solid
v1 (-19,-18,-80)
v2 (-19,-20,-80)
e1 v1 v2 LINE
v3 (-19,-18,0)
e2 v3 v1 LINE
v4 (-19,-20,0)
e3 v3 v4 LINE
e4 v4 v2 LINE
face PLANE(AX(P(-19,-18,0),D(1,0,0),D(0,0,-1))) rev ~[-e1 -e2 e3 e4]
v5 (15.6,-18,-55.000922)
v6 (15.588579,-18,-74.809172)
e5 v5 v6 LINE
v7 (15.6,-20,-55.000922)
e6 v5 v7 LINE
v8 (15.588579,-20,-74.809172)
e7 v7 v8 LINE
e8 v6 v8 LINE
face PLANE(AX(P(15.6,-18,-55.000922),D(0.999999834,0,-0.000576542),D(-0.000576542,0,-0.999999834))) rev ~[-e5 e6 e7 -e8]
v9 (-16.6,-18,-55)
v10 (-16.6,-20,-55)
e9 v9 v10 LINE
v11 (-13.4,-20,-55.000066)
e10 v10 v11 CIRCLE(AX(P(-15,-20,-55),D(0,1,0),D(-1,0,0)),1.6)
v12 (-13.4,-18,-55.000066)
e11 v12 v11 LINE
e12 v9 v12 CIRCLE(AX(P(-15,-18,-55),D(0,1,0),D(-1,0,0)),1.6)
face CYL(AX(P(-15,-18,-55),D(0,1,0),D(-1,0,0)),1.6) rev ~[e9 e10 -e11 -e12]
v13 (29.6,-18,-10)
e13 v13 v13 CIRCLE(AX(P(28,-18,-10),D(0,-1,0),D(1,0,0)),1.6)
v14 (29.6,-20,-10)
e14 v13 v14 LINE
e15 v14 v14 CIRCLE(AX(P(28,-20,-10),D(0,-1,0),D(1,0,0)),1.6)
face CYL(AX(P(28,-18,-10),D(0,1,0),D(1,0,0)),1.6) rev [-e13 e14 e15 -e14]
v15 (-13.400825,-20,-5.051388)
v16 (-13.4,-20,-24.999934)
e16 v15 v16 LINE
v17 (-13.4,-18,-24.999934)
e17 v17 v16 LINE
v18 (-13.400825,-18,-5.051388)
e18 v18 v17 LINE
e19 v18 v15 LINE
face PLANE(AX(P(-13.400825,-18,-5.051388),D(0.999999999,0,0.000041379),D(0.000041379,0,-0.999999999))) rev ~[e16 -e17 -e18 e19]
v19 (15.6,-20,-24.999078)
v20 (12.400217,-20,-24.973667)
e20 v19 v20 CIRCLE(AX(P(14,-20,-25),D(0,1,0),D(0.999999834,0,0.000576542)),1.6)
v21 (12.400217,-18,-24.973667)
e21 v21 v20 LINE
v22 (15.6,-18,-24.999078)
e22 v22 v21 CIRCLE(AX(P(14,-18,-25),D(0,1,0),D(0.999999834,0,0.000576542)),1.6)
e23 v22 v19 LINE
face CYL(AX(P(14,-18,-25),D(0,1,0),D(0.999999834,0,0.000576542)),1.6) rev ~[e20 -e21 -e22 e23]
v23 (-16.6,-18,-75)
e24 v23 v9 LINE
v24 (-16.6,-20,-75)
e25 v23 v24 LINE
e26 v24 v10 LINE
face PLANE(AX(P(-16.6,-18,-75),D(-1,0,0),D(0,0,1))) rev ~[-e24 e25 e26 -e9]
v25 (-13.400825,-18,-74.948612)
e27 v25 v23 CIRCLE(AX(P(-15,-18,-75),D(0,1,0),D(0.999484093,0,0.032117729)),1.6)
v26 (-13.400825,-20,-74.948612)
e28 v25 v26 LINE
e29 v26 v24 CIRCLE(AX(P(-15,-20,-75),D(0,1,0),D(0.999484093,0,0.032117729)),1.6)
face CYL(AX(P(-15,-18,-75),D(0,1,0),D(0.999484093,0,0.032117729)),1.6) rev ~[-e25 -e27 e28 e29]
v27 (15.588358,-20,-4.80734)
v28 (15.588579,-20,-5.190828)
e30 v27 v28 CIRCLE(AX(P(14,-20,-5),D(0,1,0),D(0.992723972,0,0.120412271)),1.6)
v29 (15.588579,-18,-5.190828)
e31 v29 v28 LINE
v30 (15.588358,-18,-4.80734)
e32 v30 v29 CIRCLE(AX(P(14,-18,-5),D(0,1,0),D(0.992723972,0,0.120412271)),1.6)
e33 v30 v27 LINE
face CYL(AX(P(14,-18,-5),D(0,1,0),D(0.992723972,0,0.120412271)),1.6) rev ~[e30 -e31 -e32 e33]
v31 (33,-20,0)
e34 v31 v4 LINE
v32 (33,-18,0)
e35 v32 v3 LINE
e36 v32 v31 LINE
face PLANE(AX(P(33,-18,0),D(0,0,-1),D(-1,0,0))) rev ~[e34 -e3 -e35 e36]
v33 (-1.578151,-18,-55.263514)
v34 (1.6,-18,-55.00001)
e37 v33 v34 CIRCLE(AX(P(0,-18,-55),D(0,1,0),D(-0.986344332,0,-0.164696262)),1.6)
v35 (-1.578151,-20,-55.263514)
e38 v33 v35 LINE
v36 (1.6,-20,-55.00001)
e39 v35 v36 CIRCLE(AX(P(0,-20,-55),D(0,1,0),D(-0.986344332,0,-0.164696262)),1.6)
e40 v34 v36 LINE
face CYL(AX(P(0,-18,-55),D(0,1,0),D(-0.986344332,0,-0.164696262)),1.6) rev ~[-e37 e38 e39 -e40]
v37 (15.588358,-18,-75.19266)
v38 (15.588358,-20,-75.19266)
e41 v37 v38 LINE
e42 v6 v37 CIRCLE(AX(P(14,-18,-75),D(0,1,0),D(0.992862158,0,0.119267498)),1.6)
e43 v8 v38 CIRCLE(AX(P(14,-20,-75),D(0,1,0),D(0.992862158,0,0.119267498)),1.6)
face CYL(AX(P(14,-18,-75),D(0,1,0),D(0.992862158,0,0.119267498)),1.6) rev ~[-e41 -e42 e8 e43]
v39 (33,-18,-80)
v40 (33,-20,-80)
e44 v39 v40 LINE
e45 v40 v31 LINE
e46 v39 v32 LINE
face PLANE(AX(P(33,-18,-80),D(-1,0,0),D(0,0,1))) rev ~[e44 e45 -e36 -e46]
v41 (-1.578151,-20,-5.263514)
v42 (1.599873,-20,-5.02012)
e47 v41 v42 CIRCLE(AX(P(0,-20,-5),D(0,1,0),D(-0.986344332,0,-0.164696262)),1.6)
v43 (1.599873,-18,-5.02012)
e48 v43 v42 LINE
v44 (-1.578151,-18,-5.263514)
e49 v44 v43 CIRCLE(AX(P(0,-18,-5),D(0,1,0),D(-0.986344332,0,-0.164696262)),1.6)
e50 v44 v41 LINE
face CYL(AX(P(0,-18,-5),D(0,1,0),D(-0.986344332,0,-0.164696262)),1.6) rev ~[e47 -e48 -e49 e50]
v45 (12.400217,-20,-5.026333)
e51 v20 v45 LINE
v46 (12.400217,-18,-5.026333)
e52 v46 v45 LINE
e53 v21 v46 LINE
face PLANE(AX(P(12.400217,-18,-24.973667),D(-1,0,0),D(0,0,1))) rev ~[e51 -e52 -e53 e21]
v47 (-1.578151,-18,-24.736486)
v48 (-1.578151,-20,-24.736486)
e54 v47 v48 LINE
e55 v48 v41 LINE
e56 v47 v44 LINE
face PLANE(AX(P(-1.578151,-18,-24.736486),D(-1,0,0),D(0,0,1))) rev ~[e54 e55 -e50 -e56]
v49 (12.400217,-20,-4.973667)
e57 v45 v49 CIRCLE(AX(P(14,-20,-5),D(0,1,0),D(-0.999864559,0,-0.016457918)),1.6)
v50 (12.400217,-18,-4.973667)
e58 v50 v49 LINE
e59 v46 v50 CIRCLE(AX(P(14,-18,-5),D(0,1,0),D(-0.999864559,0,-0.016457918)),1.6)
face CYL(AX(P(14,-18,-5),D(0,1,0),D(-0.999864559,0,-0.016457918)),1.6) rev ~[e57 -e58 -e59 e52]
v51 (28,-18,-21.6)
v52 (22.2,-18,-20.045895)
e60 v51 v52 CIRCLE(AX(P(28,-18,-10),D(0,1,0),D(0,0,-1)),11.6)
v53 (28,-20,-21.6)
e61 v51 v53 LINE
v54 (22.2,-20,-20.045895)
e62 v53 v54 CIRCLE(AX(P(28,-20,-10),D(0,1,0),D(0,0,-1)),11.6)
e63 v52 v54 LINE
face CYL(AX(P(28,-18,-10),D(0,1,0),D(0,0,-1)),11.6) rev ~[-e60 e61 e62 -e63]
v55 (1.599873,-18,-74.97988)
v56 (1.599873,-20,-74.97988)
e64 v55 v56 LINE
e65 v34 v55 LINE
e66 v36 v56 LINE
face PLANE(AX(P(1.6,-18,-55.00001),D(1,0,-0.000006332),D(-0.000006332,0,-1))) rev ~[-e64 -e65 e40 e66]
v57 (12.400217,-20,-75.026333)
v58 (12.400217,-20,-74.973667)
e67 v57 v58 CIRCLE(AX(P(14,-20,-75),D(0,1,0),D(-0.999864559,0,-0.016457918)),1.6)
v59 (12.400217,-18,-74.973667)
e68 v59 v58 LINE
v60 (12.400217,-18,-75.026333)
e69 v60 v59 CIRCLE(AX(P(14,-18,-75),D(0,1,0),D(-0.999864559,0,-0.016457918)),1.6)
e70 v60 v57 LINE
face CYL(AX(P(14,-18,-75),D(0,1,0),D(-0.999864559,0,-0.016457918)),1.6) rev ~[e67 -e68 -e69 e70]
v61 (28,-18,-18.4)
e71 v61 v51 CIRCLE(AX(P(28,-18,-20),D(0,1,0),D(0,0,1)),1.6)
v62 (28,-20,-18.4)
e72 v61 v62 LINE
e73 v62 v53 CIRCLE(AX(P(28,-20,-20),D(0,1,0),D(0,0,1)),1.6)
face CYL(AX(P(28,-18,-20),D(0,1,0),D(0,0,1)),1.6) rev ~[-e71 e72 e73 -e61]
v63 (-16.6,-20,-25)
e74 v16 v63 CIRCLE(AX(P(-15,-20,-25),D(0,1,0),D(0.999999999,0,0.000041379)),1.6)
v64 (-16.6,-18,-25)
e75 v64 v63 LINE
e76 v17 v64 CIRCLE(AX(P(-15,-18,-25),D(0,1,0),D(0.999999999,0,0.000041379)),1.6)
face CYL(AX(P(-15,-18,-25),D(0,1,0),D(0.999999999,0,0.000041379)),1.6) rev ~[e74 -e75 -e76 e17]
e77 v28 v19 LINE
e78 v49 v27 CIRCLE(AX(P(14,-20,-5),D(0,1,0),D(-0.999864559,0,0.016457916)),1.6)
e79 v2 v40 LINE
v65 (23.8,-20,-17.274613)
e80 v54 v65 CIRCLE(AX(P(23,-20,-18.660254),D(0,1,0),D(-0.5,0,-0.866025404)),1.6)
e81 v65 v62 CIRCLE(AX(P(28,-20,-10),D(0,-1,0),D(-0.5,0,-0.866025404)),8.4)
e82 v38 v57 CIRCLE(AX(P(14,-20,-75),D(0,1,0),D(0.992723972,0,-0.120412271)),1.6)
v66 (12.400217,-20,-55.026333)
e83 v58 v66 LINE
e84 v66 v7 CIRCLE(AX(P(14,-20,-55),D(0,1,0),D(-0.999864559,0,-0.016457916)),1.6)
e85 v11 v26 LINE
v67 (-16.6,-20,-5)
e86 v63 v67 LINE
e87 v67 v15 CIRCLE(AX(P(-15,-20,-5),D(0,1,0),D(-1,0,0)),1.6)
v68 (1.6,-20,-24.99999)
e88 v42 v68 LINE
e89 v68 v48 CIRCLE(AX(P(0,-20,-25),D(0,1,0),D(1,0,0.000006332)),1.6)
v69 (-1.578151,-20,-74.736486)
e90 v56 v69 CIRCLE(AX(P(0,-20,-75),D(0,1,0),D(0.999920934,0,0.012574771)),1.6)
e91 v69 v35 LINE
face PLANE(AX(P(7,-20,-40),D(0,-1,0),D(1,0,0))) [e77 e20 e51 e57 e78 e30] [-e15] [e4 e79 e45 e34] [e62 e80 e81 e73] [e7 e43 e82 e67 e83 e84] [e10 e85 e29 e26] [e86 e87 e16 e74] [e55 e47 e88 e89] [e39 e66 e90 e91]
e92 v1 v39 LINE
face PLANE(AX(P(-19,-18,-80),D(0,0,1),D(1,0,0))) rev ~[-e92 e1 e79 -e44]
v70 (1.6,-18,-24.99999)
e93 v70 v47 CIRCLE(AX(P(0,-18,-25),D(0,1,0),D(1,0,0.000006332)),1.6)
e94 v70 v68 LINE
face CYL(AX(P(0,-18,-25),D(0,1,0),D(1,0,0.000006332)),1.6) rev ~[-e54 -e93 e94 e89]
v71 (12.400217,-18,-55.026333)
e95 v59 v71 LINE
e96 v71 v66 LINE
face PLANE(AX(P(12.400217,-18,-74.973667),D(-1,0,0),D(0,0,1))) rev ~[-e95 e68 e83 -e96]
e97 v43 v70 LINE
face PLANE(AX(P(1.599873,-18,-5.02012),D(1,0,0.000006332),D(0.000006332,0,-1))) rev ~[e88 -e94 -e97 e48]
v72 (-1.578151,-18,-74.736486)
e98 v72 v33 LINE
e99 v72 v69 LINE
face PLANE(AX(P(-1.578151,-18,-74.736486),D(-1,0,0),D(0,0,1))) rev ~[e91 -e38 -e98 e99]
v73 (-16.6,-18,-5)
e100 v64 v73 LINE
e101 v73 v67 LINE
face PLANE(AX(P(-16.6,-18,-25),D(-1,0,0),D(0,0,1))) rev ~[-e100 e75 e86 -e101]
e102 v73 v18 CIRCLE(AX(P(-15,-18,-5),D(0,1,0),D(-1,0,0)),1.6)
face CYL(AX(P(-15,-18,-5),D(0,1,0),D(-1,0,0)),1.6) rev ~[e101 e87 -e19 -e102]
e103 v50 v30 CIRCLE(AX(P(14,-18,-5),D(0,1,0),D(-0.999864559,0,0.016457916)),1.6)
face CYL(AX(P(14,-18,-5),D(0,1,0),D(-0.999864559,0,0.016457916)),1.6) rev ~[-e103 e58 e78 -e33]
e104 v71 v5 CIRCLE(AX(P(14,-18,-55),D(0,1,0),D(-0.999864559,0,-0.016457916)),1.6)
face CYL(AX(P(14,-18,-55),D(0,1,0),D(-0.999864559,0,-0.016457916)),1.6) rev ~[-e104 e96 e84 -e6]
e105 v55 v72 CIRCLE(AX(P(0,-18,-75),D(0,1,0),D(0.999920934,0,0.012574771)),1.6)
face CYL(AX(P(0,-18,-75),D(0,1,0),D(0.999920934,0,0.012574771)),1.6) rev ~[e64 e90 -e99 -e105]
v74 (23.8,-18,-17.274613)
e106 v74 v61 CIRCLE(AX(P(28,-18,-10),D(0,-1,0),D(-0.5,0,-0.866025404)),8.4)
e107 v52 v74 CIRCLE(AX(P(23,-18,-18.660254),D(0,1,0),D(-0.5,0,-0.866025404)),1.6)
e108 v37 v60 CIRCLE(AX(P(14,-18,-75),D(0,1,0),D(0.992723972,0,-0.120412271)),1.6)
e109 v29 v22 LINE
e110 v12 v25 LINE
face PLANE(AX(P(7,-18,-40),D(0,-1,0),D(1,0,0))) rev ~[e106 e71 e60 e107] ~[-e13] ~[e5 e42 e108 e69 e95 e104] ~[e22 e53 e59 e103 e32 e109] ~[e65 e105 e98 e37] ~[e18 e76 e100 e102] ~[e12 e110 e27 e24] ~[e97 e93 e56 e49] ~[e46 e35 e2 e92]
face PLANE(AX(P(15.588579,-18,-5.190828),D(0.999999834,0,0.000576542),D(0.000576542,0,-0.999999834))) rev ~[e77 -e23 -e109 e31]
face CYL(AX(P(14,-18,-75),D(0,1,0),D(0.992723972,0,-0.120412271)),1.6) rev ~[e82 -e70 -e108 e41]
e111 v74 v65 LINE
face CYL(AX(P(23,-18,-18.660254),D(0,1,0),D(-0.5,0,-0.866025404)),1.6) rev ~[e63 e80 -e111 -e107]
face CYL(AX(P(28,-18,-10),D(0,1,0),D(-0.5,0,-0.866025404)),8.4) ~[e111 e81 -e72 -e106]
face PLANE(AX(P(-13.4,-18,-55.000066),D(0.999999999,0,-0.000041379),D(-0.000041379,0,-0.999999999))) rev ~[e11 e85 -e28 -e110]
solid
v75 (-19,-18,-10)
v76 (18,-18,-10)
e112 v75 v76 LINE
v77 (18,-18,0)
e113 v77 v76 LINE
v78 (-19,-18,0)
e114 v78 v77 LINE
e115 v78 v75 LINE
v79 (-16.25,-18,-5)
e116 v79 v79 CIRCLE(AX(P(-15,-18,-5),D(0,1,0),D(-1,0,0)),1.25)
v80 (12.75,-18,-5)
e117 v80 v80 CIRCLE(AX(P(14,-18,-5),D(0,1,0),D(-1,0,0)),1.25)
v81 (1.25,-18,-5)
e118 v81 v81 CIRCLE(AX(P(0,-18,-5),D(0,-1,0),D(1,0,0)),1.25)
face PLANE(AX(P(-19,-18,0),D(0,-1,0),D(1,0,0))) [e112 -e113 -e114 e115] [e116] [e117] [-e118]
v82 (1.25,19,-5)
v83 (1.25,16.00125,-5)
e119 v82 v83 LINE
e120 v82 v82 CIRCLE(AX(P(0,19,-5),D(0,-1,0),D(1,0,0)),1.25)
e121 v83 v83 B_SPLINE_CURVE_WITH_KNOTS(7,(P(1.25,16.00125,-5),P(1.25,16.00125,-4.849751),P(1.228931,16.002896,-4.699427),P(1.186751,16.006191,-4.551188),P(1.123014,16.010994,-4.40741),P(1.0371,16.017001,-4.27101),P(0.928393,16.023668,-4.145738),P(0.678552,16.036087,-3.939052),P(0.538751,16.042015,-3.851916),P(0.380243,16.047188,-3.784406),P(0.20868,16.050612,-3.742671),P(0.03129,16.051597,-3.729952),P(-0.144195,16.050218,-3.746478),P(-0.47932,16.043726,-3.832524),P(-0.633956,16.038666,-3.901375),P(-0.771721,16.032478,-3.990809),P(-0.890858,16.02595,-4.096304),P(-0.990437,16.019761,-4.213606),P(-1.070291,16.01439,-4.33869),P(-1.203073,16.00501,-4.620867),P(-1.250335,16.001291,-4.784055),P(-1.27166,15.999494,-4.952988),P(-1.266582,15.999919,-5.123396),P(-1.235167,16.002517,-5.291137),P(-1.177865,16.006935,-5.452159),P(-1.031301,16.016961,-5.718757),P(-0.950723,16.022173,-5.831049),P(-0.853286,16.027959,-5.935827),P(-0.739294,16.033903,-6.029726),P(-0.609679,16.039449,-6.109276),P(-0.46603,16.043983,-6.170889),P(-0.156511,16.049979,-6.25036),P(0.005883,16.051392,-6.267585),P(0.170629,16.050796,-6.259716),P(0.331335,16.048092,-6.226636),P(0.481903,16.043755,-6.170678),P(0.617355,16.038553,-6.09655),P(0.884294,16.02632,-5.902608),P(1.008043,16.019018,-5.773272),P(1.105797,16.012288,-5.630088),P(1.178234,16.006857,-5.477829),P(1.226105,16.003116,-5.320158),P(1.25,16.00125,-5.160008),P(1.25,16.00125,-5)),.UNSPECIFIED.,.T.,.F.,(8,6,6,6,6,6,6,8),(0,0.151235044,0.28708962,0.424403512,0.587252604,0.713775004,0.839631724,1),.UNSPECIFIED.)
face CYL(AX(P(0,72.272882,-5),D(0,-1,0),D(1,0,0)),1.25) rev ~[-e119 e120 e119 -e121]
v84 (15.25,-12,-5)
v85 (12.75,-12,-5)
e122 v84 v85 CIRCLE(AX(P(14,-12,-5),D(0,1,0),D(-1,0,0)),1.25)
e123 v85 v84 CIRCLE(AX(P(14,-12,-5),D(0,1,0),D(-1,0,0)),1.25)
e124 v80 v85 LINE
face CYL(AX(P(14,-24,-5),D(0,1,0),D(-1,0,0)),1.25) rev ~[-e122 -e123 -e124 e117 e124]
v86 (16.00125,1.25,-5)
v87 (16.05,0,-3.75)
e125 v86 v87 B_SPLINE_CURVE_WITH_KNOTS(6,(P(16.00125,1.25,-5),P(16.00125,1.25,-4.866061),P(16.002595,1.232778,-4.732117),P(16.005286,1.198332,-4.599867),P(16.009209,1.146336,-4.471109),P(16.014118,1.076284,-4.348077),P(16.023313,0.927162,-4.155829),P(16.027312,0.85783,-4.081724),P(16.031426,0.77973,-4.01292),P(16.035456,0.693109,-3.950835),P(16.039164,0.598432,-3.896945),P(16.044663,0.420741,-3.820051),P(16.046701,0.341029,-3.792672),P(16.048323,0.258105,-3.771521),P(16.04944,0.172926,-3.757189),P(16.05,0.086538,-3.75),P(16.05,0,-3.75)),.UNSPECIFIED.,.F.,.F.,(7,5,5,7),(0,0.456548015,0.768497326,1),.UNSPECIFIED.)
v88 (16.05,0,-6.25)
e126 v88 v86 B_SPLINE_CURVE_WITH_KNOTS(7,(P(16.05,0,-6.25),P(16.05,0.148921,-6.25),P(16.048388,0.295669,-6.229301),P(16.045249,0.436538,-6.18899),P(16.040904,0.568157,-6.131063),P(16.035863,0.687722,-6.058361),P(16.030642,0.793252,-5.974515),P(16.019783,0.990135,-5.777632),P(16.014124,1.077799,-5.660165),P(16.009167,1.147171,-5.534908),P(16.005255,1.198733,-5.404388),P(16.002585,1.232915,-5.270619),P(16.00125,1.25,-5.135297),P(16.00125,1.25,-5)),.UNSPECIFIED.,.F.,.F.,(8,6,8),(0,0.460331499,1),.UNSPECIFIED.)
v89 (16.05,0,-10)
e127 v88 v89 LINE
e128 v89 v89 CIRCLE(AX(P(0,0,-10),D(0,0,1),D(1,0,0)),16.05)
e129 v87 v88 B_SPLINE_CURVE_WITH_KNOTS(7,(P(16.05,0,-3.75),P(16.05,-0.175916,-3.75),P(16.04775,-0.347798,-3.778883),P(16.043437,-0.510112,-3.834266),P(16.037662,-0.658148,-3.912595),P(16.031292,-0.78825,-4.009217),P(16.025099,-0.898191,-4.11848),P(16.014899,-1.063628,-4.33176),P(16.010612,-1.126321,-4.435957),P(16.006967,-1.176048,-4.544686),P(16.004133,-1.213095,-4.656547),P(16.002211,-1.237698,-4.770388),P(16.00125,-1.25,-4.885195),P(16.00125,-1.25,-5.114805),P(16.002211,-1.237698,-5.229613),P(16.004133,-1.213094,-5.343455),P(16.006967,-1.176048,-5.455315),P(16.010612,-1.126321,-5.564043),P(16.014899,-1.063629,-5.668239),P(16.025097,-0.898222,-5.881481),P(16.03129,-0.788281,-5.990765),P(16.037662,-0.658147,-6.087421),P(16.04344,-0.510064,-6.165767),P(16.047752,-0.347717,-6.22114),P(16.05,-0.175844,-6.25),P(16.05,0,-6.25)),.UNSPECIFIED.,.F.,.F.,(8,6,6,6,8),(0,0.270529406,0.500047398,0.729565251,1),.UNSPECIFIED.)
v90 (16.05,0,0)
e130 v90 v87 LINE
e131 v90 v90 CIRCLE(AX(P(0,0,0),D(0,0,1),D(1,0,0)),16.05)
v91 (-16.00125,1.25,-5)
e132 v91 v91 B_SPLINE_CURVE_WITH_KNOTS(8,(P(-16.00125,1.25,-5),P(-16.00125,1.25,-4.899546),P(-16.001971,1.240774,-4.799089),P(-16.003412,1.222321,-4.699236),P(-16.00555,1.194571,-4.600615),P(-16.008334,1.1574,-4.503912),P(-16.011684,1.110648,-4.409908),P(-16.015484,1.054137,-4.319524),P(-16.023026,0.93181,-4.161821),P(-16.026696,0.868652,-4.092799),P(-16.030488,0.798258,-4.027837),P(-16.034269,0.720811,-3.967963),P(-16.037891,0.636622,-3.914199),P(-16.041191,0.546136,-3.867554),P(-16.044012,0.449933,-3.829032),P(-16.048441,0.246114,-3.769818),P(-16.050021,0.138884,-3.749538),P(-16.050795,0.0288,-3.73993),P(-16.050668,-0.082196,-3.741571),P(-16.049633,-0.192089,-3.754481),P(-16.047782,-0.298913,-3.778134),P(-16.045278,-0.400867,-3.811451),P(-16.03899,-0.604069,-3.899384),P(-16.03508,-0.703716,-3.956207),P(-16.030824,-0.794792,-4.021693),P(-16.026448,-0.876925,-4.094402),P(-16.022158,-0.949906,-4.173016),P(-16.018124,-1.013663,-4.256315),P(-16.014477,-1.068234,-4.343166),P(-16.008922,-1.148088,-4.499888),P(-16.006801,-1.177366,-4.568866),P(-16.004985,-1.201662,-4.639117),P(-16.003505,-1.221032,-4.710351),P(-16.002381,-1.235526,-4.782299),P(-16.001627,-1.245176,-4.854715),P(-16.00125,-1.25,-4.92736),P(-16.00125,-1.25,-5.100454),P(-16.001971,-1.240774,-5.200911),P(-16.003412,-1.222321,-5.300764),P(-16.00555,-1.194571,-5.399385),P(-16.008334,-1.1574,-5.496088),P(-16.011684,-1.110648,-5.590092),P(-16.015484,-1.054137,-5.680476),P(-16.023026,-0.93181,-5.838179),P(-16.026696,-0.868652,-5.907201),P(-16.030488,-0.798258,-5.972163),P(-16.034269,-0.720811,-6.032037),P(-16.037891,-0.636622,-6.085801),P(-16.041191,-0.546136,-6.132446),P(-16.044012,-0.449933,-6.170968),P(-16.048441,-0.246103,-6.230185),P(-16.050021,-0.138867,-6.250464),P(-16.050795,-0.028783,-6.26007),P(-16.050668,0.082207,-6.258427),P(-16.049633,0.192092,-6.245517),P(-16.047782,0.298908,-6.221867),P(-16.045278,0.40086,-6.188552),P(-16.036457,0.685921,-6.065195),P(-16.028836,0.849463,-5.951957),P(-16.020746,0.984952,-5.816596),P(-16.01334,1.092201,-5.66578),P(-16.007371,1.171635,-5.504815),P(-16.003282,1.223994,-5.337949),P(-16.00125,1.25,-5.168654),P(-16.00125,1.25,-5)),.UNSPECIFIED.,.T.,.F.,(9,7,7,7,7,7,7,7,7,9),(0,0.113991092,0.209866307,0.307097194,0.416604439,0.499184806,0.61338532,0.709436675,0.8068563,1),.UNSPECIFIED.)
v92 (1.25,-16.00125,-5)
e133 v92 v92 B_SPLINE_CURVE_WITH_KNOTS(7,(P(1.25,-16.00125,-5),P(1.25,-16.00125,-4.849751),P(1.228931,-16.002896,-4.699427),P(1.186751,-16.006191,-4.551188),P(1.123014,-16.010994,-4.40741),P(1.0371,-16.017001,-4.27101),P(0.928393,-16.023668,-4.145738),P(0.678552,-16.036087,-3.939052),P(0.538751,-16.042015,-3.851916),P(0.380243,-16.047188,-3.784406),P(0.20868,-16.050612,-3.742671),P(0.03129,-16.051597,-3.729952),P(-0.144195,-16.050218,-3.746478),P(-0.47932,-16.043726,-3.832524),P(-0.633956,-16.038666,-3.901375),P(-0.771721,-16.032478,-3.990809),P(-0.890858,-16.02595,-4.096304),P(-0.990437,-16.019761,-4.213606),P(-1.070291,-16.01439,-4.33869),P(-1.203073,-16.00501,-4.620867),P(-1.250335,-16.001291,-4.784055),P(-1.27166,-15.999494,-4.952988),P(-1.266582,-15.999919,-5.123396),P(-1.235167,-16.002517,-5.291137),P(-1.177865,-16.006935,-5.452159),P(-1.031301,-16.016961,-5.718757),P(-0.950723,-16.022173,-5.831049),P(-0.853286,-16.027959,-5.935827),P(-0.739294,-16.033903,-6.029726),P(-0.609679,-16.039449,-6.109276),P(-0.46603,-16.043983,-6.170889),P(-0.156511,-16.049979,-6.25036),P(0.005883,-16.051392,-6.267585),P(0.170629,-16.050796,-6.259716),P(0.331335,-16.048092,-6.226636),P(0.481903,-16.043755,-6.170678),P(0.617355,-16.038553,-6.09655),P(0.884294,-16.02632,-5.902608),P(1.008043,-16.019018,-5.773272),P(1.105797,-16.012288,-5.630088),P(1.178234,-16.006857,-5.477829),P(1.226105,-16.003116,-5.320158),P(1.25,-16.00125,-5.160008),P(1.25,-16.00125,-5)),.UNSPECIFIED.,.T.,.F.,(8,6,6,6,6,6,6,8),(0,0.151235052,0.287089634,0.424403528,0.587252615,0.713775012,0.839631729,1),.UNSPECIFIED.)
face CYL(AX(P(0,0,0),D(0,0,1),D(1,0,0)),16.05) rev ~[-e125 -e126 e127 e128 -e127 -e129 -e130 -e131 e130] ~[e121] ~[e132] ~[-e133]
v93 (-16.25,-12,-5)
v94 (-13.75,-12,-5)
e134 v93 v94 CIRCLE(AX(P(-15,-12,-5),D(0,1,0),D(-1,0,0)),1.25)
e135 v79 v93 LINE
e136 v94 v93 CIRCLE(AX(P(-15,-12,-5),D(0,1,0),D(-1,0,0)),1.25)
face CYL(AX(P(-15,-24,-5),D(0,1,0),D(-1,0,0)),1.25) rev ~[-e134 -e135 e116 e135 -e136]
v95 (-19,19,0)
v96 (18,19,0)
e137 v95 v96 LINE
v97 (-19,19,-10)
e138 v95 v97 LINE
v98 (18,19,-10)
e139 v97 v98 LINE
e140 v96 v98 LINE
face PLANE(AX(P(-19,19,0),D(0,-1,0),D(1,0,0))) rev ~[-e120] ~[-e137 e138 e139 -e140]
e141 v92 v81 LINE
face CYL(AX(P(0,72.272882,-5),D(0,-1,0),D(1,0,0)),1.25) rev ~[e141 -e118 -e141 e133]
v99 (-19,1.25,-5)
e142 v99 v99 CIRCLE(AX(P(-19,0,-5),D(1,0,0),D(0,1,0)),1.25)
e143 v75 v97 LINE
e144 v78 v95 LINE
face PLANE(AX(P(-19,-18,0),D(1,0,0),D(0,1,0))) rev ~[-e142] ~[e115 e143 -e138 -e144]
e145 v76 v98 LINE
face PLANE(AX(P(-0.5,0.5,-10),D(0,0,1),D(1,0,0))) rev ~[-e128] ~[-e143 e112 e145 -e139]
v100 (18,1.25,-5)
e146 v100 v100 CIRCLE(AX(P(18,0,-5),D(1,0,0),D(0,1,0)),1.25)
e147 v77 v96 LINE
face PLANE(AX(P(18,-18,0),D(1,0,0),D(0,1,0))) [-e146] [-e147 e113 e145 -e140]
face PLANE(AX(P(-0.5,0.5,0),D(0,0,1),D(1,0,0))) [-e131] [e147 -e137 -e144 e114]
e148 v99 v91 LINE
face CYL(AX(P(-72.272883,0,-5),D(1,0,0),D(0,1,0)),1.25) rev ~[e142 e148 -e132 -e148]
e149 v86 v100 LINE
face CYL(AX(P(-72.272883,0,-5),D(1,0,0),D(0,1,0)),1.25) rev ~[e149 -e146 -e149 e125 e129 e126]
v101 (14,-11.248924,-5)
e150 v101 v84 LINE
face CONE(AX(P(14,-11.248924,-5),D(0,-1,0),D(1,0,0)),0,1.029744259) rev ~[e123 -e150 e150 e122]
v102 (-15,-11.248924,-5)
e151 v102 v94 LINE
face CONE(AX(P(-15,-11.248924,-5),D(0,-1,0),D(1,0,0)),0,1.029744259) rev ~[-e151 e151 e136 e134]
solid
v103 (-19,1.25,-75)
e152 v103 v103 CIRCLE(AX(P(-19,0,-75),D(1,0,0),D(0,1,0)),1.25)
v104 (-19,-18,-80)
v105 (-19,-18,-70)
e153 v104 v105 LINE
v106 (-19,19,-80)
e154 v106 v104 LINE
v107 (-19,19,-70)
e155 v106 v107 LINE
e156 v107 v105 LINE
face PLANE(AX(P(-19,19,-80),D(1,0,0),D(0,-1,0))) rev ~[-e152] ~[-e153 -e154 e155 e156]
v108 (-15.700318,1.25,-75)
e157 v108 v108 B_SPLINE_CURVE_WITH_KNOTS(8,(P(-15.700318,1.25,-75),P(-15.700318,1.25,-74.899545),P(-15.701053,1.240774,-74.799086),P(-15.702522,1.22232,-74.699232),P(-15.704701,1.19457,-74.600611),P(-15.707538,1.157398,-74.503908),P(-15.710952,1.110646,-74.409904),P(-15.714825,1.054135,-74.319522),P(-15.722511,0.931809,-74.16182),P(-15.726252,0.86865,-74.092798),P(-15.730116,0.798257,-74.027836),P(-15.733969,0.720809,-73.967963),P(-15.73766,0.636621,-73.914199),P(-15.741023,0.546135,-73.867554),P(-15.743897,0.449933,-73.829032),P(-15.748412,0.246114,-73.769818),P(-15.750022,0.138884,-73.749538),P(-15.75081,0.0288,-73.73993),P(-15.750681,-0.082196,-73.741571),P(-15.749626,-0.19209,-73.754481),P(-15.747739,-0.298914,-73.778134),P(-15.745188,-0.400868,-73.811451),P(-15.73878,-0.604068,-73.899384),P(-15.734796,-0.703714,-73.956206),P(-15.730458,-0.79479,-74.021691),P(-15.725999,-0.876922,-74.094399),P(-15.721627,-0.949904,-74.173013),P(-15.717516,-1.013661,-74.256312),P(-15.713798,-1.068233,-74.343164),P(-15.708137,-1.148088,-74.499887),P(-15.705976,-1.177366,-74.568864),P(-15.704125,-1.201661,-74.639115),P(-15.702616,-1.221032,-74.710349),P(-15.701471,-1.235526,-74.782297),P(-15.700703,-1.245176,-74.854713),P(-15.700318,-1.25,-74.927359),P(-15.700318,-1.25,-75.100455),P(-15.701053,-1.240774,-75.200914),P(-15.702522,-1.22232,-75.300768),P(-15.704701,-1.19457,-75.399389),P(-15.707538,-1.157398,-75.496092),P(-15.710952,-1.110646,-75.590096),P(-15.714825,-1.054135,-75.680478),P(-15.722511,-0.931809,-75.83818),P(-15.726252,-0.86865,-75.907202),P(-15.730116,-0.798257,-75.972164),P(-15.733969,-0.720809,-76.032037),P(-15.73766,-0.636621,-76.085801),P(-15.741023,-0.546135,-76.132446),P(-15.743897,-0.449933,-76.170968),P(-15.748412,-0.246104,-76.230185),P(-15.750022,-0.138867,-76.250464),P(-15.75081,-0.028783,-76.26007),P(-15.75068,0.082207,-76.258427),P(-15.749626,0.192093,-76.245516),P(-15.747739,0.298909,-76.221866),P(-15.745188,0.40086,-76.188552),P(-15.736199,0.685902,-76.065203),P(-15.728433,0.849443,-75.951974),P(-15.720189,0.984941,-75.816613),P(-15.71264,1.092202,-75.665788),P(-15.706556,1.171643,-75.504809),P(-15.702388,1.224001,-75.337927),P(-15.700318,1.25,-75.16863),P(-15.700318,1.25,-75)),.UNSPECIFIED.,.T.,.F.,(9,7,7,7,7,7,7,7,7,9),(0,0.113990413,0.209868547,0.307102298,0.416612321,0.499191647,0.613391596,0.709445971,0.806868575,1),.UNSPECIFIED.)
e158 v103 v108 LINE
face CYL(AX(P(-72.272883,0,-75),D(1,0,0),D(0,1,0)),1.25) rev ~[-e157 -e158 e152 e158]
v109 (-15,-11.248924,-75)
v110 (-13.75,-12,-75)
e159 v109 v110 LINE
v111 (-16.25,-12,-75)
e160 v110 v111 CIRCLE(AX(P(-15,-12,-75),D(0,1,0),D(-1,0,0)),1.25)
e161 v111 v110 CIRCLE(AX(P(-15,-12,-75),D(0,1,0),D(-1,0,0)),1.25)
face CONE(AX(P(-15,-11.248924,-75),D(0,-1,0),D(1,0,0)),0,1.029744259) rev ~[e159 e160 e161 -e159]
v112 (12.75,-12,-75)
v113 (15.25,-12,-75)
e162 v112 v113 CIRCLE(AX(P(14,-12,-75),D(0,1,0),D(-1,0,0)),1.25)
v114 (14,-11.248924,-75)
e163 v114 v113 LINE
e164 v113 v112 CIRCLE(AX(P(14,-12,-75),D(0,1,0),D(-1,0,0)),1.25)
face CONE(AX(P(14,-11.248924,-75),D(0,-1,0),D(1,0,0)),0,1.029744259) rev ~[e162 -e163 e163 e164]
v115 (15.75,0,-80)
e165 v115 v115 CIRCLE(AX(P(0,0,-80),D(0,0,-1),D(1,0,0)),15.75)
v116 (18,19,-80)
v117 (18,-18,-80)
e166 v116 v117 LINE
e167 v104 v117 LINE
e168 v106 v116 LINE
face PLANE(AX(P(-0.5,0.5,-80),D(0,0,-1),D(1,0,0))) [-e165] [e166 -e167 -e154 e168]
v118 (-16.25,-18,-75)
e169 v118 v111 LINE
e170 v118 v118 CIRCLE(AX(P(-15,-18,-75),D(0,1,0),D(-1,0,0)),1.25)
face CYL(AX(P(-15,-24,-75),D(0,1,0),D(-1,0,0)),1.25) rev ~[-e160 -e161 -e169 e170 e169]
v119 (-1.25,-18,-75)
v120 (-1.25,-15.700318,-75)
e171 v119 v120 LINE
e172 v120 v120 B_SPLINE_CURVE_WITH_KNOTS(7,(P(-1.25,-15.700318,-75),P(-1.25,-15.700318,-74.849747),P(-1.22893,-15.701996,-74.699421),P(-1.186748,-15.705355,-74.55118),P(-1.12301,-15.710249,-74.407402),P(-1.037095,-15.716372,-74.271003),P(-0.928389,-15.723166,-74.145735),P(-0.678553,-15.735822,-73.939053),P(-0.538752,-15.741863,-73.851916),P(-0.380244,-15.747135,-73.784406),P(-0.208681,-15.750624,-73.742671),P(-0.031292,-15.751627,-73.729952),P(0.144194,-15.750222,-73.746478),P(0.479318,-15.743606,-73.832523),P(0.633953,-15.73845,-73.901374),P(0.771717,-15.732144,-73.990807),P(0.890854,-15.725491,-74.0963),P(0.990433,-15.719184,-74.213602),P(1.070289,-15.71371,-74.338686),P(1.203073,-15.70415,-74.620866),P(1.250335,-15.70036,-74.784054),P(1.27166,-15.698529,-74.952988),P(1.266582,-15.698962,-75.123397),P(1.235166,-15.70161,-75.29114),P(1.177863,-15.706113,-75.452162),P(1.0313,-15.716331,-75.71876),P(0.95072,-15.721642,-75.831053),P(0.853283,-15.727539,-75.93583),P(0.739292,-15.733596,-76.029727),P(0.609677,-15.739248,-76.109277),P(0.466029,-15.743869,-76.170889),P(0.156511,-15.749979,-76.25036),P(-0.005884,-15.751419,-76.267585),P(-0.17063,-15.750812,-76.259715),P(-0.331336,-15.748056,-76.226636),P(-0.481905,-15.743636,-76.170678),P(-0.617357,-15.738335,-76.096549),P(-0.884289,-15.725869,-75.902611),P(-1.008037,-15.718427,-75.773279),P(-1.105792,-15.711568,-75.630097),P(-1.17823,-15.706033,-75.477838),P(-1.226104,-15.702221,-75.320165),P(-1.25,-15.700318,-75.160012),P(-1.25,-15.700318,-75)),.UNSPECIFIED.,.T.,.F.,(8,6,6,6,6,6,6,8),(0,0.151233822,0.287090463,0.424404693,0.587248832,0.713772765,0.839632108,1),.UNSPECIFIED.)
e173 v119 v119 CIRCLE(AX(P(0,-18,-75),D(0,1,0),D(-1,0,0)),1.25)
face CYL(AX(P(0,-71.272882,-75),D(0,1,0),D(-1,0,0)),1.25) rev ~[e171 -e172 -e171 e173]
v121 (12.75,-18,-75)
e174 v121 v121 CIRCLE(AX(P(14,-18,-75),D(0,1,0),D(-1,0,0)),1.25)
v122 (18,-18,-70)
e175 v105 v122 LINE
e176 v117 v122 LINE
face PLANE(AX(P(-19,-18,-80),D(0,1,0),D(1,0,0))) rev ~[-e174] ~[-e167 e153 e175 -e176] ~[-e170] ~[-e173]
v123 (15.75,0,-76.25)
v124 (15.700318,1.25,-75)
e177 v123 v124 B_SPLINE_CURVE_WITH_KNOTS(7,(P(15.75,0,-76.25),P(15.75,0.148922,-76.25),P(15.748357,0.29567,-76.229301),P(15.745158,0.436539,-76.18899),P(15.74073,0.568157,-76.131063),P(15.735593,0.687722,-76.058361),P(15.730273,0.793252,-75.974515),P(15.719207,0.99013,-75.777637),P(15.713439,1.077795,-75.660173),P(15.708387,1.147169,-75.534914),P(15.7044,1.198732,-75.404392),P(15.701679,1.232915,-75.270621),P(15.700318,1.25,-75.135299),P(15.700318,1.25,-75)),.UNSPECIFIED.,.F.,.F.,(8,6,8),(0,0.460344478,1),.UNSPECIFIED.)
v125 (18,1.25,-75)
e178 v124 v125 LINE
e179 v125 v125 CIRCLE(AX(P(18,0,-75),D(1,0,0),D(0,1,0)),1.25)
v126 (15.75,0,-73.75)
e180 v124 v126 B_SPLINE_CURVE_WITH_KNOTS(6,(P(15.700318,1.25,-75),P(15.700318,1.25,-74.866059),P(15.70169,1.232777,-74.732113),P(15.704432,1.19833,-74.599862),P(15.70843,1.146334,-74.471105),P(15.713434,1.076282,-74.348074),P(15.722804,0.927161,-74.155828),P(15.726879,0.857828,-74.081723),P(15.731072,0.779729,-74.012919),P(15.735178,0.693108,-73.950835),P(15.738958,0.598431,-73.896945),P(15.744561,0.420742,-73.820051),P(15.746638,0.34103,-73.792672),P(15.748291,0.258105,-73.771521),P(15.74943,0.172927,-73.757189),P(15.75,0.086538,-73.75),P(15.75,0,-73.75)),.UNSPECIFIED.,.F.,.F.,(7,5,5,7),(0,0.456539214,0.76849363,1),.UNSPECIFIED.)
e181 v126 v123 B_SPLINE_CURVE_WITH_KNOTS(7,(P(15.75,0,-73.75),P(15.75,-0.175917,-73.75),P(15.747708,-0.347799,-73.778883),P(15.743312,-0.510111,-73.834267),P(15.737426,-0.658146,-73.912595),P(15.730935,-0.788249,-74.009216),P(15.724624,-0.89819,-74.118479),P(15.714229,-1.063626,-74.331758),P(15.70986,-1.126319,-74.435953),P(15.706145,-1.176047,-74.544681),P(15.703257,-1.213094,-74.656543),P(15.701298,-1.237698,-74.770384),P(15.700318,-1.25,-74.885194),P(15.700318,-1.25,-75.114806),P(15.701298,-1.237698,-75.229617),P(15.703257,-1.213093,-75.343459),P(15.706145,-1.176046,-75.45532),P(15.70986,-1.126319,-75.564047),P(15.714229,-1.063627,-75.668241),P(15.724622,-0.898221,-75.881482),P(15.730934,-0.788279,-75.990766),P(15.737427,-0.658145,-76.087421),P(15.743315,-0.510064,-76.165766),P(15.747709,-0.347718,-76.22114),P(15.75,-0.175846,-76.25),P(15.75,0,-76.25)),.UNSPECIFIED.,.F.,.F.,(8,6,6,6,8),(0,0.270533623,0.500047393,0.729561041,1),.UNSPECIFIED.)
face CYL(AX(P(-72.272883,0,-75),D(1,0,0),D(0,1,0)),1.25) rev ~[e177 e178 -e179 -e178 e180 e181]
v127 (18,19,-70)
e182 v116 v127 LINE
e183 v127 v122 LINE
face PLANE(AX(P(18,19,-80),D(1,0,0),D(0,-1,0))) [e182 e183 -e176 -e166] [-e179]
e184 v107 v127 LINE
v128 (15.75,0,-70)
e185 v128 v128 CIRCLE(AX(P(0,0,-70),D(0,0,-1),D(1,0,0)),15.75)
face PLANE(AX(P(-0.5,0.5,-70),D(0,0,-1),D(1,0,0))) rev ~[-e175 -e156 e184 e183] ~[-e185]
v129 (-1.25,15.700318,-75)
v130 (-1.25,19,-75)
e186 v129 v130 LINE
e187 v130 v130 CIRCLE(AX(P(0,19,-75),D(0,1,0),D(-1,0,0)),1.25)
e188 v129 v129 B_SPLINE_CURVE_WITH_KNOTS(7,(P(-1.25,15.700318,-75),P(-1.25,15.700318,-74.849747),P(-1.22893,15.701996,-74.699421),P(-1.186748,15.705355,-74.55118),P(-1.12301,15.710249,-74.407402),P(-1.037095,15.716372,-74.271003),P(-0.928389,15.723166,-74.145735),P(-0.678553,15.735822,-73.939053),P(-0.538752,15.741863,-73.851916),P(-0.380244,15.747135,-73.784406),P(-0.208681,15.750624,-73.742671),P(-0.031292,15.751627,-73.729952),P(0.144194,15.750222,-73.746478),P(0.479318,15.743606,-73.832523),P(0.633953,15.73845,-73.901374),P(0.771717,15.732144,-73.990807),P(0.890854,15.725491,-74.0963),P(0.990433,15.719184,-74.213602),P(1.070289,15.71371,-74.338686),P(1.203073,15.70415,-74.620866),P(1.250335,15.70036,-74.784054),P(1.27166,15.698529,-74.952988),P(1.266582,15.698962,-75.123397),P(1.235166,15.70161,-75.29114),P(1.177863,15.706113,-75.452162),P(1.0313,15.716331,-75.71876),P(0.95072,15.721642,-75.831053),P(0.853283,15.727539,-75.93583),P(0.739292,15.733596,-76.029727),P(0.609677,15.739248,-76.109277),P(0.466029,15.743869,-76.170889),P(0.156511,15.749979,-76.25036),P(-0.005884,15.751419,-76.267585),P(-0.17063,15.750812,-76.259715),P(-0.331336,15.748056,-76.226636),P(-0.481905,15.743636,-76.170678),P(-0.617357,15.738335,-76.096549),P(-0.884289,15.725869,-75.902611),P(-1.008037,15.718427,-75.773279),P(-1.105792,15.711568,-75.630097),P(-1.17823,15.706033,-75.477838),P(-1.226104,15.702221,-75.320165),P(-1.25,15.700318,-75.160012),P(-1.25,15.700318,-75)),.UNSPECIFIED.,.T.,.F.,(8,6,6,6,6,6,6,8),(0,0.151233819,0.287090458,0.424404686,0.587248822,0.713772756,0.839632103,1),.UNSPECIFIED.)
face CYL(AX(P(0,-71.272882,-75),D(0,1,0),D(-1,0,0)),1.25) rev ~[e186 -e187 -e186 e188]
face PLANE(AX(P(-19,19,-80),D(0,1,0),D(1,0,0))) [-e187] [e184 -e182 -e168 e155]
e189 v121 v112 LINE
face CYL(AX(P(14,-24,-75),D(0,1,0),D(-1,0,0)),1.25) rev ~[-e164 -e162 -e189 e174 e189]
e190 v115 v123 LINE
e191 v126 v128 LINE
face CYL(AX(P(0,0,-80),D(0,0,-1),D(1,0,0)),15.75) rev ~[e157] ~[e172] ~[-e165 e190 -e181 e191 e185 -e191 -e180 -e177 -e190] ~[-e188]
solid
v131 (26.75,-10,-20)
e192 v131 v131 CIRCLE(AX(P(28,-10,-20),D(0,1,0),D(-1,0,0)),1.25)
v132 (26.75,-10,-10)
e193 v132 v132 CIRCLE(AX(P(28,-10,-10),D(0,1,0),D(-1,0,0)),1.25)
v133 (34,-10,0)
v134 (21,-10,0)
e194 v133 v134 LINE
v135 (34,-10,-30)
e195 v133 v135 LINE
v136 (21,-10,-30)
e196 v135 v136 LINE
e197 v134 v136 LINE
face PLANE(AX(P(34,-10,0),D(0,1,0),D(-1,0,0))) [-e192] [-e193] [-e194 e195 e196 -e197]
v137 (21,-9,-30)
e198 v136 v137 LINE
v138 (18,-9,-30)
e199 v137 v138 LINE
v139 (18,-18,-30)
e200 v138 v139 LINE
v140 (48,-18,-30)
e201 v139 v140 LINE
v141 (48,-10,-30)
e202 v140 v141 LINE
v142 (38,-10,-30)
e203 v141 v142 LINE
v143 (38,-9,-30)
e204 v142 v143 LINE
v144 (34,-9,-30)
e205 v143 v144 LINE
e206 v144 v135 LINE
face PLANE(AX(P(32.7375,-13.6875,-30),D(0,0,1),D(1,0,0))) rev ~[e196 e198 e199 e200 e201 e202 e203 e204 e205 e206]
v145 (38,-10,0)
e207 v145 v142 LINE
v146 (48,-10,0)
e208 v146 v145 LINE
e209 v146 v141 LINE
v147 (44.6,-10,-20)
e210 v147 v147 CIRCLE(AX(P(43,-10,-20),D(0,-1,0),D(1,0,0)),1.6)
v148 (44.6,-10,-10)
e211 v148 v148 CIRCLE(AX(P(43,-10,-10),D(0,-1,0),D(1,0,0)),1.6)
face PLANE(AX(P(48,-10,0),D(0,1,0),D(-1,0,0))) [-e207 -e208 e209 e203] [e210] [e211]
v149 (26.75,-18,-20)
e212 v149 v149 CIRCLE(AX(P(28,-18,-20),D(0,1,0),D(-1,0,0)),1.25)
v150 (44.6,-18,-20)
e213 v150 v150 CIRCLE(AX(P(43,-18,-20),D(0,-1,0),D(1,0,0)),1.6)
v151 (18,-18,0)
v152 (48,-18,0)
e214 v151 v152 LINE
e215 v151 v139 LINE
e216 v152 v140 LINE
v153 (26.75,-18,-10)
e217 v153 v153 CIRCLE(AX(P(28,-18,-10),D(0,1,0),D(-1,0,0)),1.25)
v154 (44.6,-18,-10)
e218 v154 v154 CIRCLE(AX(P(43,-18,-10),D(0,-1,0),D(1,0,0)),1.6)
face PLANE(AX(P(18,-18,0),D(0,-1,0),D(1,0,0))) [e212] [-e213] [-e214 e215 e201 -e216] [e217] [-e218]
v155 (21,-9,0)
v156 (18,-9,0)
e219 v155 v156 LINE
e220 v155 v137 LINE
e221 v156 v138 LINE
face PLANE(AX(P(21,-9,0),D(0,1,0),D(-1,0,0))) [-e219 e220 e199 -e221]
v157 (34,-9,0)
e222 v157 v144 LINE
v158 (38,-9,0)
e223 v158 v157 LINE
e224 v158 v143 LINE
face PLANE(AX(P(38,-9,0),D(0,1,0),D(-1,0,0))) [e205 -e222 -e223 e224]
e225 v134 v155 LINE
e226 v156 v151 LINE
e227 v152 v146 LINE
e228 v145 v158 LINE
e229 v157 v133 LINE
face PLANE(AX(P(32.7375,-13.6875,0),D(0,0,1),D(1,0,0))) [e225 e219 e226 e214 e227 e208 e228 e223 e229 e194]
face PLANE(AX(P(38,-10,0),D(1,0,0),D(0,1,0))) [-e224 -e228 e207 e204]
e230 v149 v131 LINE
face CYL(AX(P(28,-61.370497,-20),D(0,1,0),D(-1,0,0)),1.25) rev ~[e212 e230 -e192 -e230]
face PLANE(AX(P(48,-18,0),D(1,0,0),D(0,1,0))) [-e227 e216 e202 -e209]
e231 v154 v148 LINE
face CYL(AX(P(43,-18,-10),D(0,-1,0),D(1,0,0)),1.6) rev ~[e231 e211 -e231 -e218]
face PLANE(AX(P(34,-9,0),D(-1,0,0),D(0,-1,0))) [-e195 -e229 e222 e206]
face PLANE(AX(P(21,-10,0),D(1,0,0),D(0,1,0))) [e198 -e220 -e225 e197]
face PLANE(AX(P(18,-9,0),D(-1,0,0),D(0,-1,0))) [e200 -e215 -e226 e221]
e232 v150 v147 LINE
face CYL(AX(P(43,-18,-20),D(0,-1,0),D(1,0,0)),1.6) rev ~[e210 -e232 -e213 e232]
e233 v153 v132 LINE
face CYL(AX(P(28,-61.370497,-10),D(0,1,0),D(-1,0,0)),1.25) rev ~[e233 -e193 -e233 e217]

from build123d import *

# Parameters (mm, degrees)
F1_DEPTH   = 30
F2_R       = 1.6
F3_DEPTH   = 25
F4_D       = 2.5
F5_W       = 37
F5_H       = 37
F5_R       = 16.05
F6_DEPTH   = 10
F9_D       = 2.5
F9_ON_F7_D = 2.5
F11_D      = 2.5
F11_DEPTH  = 6
F11_TIP    = 0.7510757738
F13_R      = 1.6
F14_DEPTH  = 2
F16_W      = 37
F16_H      = 37
F16_R      = 15.75
F17_DEPTH  = 10
F19_D      = 2.5
F19_DEPTH  = 6
F19_TIP    = 0.7510757738
F20_D      = 2.5
F22_D      = 2.5


with BuildPart() as f1:
    # F0 (on Top) → F1 (new body)
    with BuildSketch(Plane.XY):
        Polygon((34, -10), (21, -10), (21, -9), (18, -9), (18, -10), (18, -18), (48, -18), (48, -10), (38, -10), (38, -9), (34, -9), align=None)
    extrude(amount=-F1_DEPTH)

    # F2 (on face) → F3 (cut)
    with BuildSketch(Plane.XZ.offset(18)):
        with Locations((43, -10)):
            Circle(F2_R)
        with Locations((43, -20)):
            Circle(F2_R)
    extrude(amount=-F3_DEPTH, mode=Mode.SUBTRACT)

    # F4 (through all)
    with Locations(Plane.XZ.offset(18)):
        with Locations((28, -10), (28, -20)):
            Hole(F4_D / 2)


with BuildPart() as f6:
    # F5 (on Top) → F6 (new body)
    with BuildSketch(Plane.XY):
        with Locations((-0.5, 0.5)):
            Rectangle(F5_W, F5_H)
        Circle(F5_R, mode=Mode.SUBTRACT)
    extrude(amount=-F6_DEPTH)

    # F9 (through all)
    with Locations(Plane(origin=(0, 19, 0), x_dir=(-1, 0, 0), z_dir=(0, 1, 0))):
        with Locations((0, -5)):
            Hole(F9_D / 2)

    # F9 on F7 (through all)
    with Locations(Plane(origin=(-19, 0, 0), x_dir=(0, -1, 0), z_dir=(-1, 0, 0))):
        with Locations((0, -5)):
            Hole(F9_ON_F7_D / 2)

    # F11
    with Locations(Plane.XZ.offset(18)):
        with Locations((-15, -5), (14, -5)):
            Hole(F11_D / 2, depth=F11_DEPTH)
            with Locations((0, 0, -(F11_DEPTH + F11_TIP / 2))):  # 118° drill point
                Cone(0, F11_D / 2, F11_TIP, mode=Mode.SUBTRACT)


with BuildPart() as f14:
    # F13 (on offset) → F14 (new body)
    with BuildSketch(Plane.XZ.offset(18)):
        Polygon((33, 0), (-19, 0), (-19, -80), (33, -80), (33, -30), align=None)
        with BuildLine():
            ThreePointArc((-13.4008254517, -74.948611634), (-14.9743025024, -76.5997936238), (-16.6, -75))
            Line((-16.6, -75), (-16.6, -55))
            ThreePointArc((-16.6, -55), (-14.9999668968, -53.4000000003), (-13.4000000014, -55.0000662064))
            Line((-13.4000000014, -55.0000662064), (-13.4008254517, -74.948611634))
        make_face(mode=Mode.SUBTRACT)
        with BuildLine():
            Line((1.6, -55.0000101306), (1.5998734951, -74.979880366))
            ThreePointArc((1.5998734951, -74.979880366), (-0.1221809073, -76.5953281248), (-1.5781509312, -74.7364859809))
            Line((-1.5781509312, -74.7364859809), (-1.5781509312, -55.2635140191))
            ThreePointArc((-1.5781509312, -55.2635140191), (-0.1322040856, -53.4054712045), (1.6, -55.0000101306))
        make_face(mode=Mode.SUBTRACT)
        with BuildLine():
            ThreePointArc((15.5883583555, -75.1926596338), (13.9166405534, -76.5978270253), (12.4002167051, -75.0263326662))
            ThreePointArc((12.4002167051, -75.0263326662), (12.4, -75), (12.4002167051, -74.9736673338))
            Line((12.4002167051, -74.9736673338), (12.4002167051, -55.0263326662))
            ThreePointArc((12.4002167051, -55.0263326662), (13.9872944393, -53.4000504481), (15.5999997341, -55.0009224666))
            Line((15.5999997341, -55.0009224666), (15.5885794521, -74.8091720034))
            ThreePointArc((15.5885794521, -74.8091720034), (15.5999997341, -75.0009224666), (15.5883583555, -75.1926596338))
        make_face(mode=Mode.SUBTRACT)
        with BuildLine():
            ThreePointArc((-16.6, -5), (-14.9743025024, -3.4002063762), (-13.4008254517, -5.051388366))
            Line((-13.4008254517, -5.051388366), (-13.4000000014, -24.9999337936))
            ThreePointArc((-13.4000000014, -24.9999337936), (-14.9999668968, -26.5999999997), (-16.6, -25))
            Line((-16.6, -25), (-16.6, -5))
        make_face(mode=Mode.SUBTRACT)
        with BuildLine():
            ThreePointArc((-1.5781509312, -5.2635140191), (-0.1221809073, -3.4046718752), (1.5998734951, -5.020119634))
            Line((1.5998734951, -5.020119634), (1.6, -24.9999898694))
            ThreePointArc((1.6, -24.9999898694), (-0.1322040856, -26.5945287955), (-1.5781509312, -24.7364859809))
            Line((-1.5781509312, -24.7364859809), (-1.5781509312, -5.2635140191))
        make_face(mode=Mode.SUBTRACT)
        with BuildLine():
            ThreePointArc((15.5883583555, -4.8073403662), (15.5999997341, -4.9990775334), (15.5885794521, -5.1908279966))
            Line((15.5885794521, -5.1908279966), (15.5999997341, -24.9990775334))
            ThreePointArc((15.5999997341, -24.9990775334), (13.9872944393, -26.5999495519), (12.4002167051, -24.9736673338))
            Line((12.4002167051, -24.9736673338), (12.4002167051, -5.0263326662))
            ThreePointArc((12.4002167051, -5.0263326662), (12.4, -5), (12.4002167051, -4.9736673338))
            ThreePointArc((12.4002167051, -4.9736673338), (13.9166405534, -3.4021729747), (15.5883583555, -4.8073403662))
        make_face(mode=Mode.SUBTRACT)
        with BuildLine():
            ThreePointArc((28, -18.4), (29.6, -20), (28, -21.6))
            ThreePointArc((28, -21.6), (24.9976990768, -21.204739585), (22.2, -20.0458946839))
            ThreePointArc((22.2, -20.0458946839), (21.6143593539, -17.8602540378), (23.8, -17.2746133918))
            ThreePointArc((23.8, -17.2746133918), (25.8259200211, -18.1137769408), (28, -18.4))
        make_face(mode=Mode.SUBTRACT)
        with Locations((28, -10)):
            Circle(F13_R, mode=Mode.SUBTRACT)
    extrude(amount=F14_DEPTH)


with BuildPart() as f17:
    # F16 (on offset) → F17 (new body)
    with BuildSketch(Plane(origin=(0, 0, -80), x_dir=(1, 0, 0), z_dir=(0, 0, -1))):
        with Locations((-0.5, -0.5)):
            Rectangle(F16_W, F16_H)
        Circle(F16_R, mode=Mode.SUBTRACT)
    extrude(amount=-F17_DEPTH)

    # F19
    with Locations(Plane.XZ.offset(18)):
        with Locations((-15, -75), (14, -75)):
            Hole(F19_D / 2, depth=F19_DEPTH)
            with Locations((0, 0, -(F19_DEPTH + F19_TIP / 2))):  # 118° drill point
                Cone(0, F19_D / 2, F19_TIP, mode=Mode.SUBTRACT)

    # F20 (through all)
    with Locations(Plane.XZ.offset(18)):
        with Locations((0, -75)):
            Hole(F20_D / 2)

    # F22 (through all)
    with Locations(Plane(origin=(-19, 0, 0), x_dir=(0, -1, 0), z_dir=(-1, 0, 0))):
        with Locations((0, -75)):
            Hole(F22_D / 2)


solid = Compound([f1.part, f6.part, f14.part, f17.part])
